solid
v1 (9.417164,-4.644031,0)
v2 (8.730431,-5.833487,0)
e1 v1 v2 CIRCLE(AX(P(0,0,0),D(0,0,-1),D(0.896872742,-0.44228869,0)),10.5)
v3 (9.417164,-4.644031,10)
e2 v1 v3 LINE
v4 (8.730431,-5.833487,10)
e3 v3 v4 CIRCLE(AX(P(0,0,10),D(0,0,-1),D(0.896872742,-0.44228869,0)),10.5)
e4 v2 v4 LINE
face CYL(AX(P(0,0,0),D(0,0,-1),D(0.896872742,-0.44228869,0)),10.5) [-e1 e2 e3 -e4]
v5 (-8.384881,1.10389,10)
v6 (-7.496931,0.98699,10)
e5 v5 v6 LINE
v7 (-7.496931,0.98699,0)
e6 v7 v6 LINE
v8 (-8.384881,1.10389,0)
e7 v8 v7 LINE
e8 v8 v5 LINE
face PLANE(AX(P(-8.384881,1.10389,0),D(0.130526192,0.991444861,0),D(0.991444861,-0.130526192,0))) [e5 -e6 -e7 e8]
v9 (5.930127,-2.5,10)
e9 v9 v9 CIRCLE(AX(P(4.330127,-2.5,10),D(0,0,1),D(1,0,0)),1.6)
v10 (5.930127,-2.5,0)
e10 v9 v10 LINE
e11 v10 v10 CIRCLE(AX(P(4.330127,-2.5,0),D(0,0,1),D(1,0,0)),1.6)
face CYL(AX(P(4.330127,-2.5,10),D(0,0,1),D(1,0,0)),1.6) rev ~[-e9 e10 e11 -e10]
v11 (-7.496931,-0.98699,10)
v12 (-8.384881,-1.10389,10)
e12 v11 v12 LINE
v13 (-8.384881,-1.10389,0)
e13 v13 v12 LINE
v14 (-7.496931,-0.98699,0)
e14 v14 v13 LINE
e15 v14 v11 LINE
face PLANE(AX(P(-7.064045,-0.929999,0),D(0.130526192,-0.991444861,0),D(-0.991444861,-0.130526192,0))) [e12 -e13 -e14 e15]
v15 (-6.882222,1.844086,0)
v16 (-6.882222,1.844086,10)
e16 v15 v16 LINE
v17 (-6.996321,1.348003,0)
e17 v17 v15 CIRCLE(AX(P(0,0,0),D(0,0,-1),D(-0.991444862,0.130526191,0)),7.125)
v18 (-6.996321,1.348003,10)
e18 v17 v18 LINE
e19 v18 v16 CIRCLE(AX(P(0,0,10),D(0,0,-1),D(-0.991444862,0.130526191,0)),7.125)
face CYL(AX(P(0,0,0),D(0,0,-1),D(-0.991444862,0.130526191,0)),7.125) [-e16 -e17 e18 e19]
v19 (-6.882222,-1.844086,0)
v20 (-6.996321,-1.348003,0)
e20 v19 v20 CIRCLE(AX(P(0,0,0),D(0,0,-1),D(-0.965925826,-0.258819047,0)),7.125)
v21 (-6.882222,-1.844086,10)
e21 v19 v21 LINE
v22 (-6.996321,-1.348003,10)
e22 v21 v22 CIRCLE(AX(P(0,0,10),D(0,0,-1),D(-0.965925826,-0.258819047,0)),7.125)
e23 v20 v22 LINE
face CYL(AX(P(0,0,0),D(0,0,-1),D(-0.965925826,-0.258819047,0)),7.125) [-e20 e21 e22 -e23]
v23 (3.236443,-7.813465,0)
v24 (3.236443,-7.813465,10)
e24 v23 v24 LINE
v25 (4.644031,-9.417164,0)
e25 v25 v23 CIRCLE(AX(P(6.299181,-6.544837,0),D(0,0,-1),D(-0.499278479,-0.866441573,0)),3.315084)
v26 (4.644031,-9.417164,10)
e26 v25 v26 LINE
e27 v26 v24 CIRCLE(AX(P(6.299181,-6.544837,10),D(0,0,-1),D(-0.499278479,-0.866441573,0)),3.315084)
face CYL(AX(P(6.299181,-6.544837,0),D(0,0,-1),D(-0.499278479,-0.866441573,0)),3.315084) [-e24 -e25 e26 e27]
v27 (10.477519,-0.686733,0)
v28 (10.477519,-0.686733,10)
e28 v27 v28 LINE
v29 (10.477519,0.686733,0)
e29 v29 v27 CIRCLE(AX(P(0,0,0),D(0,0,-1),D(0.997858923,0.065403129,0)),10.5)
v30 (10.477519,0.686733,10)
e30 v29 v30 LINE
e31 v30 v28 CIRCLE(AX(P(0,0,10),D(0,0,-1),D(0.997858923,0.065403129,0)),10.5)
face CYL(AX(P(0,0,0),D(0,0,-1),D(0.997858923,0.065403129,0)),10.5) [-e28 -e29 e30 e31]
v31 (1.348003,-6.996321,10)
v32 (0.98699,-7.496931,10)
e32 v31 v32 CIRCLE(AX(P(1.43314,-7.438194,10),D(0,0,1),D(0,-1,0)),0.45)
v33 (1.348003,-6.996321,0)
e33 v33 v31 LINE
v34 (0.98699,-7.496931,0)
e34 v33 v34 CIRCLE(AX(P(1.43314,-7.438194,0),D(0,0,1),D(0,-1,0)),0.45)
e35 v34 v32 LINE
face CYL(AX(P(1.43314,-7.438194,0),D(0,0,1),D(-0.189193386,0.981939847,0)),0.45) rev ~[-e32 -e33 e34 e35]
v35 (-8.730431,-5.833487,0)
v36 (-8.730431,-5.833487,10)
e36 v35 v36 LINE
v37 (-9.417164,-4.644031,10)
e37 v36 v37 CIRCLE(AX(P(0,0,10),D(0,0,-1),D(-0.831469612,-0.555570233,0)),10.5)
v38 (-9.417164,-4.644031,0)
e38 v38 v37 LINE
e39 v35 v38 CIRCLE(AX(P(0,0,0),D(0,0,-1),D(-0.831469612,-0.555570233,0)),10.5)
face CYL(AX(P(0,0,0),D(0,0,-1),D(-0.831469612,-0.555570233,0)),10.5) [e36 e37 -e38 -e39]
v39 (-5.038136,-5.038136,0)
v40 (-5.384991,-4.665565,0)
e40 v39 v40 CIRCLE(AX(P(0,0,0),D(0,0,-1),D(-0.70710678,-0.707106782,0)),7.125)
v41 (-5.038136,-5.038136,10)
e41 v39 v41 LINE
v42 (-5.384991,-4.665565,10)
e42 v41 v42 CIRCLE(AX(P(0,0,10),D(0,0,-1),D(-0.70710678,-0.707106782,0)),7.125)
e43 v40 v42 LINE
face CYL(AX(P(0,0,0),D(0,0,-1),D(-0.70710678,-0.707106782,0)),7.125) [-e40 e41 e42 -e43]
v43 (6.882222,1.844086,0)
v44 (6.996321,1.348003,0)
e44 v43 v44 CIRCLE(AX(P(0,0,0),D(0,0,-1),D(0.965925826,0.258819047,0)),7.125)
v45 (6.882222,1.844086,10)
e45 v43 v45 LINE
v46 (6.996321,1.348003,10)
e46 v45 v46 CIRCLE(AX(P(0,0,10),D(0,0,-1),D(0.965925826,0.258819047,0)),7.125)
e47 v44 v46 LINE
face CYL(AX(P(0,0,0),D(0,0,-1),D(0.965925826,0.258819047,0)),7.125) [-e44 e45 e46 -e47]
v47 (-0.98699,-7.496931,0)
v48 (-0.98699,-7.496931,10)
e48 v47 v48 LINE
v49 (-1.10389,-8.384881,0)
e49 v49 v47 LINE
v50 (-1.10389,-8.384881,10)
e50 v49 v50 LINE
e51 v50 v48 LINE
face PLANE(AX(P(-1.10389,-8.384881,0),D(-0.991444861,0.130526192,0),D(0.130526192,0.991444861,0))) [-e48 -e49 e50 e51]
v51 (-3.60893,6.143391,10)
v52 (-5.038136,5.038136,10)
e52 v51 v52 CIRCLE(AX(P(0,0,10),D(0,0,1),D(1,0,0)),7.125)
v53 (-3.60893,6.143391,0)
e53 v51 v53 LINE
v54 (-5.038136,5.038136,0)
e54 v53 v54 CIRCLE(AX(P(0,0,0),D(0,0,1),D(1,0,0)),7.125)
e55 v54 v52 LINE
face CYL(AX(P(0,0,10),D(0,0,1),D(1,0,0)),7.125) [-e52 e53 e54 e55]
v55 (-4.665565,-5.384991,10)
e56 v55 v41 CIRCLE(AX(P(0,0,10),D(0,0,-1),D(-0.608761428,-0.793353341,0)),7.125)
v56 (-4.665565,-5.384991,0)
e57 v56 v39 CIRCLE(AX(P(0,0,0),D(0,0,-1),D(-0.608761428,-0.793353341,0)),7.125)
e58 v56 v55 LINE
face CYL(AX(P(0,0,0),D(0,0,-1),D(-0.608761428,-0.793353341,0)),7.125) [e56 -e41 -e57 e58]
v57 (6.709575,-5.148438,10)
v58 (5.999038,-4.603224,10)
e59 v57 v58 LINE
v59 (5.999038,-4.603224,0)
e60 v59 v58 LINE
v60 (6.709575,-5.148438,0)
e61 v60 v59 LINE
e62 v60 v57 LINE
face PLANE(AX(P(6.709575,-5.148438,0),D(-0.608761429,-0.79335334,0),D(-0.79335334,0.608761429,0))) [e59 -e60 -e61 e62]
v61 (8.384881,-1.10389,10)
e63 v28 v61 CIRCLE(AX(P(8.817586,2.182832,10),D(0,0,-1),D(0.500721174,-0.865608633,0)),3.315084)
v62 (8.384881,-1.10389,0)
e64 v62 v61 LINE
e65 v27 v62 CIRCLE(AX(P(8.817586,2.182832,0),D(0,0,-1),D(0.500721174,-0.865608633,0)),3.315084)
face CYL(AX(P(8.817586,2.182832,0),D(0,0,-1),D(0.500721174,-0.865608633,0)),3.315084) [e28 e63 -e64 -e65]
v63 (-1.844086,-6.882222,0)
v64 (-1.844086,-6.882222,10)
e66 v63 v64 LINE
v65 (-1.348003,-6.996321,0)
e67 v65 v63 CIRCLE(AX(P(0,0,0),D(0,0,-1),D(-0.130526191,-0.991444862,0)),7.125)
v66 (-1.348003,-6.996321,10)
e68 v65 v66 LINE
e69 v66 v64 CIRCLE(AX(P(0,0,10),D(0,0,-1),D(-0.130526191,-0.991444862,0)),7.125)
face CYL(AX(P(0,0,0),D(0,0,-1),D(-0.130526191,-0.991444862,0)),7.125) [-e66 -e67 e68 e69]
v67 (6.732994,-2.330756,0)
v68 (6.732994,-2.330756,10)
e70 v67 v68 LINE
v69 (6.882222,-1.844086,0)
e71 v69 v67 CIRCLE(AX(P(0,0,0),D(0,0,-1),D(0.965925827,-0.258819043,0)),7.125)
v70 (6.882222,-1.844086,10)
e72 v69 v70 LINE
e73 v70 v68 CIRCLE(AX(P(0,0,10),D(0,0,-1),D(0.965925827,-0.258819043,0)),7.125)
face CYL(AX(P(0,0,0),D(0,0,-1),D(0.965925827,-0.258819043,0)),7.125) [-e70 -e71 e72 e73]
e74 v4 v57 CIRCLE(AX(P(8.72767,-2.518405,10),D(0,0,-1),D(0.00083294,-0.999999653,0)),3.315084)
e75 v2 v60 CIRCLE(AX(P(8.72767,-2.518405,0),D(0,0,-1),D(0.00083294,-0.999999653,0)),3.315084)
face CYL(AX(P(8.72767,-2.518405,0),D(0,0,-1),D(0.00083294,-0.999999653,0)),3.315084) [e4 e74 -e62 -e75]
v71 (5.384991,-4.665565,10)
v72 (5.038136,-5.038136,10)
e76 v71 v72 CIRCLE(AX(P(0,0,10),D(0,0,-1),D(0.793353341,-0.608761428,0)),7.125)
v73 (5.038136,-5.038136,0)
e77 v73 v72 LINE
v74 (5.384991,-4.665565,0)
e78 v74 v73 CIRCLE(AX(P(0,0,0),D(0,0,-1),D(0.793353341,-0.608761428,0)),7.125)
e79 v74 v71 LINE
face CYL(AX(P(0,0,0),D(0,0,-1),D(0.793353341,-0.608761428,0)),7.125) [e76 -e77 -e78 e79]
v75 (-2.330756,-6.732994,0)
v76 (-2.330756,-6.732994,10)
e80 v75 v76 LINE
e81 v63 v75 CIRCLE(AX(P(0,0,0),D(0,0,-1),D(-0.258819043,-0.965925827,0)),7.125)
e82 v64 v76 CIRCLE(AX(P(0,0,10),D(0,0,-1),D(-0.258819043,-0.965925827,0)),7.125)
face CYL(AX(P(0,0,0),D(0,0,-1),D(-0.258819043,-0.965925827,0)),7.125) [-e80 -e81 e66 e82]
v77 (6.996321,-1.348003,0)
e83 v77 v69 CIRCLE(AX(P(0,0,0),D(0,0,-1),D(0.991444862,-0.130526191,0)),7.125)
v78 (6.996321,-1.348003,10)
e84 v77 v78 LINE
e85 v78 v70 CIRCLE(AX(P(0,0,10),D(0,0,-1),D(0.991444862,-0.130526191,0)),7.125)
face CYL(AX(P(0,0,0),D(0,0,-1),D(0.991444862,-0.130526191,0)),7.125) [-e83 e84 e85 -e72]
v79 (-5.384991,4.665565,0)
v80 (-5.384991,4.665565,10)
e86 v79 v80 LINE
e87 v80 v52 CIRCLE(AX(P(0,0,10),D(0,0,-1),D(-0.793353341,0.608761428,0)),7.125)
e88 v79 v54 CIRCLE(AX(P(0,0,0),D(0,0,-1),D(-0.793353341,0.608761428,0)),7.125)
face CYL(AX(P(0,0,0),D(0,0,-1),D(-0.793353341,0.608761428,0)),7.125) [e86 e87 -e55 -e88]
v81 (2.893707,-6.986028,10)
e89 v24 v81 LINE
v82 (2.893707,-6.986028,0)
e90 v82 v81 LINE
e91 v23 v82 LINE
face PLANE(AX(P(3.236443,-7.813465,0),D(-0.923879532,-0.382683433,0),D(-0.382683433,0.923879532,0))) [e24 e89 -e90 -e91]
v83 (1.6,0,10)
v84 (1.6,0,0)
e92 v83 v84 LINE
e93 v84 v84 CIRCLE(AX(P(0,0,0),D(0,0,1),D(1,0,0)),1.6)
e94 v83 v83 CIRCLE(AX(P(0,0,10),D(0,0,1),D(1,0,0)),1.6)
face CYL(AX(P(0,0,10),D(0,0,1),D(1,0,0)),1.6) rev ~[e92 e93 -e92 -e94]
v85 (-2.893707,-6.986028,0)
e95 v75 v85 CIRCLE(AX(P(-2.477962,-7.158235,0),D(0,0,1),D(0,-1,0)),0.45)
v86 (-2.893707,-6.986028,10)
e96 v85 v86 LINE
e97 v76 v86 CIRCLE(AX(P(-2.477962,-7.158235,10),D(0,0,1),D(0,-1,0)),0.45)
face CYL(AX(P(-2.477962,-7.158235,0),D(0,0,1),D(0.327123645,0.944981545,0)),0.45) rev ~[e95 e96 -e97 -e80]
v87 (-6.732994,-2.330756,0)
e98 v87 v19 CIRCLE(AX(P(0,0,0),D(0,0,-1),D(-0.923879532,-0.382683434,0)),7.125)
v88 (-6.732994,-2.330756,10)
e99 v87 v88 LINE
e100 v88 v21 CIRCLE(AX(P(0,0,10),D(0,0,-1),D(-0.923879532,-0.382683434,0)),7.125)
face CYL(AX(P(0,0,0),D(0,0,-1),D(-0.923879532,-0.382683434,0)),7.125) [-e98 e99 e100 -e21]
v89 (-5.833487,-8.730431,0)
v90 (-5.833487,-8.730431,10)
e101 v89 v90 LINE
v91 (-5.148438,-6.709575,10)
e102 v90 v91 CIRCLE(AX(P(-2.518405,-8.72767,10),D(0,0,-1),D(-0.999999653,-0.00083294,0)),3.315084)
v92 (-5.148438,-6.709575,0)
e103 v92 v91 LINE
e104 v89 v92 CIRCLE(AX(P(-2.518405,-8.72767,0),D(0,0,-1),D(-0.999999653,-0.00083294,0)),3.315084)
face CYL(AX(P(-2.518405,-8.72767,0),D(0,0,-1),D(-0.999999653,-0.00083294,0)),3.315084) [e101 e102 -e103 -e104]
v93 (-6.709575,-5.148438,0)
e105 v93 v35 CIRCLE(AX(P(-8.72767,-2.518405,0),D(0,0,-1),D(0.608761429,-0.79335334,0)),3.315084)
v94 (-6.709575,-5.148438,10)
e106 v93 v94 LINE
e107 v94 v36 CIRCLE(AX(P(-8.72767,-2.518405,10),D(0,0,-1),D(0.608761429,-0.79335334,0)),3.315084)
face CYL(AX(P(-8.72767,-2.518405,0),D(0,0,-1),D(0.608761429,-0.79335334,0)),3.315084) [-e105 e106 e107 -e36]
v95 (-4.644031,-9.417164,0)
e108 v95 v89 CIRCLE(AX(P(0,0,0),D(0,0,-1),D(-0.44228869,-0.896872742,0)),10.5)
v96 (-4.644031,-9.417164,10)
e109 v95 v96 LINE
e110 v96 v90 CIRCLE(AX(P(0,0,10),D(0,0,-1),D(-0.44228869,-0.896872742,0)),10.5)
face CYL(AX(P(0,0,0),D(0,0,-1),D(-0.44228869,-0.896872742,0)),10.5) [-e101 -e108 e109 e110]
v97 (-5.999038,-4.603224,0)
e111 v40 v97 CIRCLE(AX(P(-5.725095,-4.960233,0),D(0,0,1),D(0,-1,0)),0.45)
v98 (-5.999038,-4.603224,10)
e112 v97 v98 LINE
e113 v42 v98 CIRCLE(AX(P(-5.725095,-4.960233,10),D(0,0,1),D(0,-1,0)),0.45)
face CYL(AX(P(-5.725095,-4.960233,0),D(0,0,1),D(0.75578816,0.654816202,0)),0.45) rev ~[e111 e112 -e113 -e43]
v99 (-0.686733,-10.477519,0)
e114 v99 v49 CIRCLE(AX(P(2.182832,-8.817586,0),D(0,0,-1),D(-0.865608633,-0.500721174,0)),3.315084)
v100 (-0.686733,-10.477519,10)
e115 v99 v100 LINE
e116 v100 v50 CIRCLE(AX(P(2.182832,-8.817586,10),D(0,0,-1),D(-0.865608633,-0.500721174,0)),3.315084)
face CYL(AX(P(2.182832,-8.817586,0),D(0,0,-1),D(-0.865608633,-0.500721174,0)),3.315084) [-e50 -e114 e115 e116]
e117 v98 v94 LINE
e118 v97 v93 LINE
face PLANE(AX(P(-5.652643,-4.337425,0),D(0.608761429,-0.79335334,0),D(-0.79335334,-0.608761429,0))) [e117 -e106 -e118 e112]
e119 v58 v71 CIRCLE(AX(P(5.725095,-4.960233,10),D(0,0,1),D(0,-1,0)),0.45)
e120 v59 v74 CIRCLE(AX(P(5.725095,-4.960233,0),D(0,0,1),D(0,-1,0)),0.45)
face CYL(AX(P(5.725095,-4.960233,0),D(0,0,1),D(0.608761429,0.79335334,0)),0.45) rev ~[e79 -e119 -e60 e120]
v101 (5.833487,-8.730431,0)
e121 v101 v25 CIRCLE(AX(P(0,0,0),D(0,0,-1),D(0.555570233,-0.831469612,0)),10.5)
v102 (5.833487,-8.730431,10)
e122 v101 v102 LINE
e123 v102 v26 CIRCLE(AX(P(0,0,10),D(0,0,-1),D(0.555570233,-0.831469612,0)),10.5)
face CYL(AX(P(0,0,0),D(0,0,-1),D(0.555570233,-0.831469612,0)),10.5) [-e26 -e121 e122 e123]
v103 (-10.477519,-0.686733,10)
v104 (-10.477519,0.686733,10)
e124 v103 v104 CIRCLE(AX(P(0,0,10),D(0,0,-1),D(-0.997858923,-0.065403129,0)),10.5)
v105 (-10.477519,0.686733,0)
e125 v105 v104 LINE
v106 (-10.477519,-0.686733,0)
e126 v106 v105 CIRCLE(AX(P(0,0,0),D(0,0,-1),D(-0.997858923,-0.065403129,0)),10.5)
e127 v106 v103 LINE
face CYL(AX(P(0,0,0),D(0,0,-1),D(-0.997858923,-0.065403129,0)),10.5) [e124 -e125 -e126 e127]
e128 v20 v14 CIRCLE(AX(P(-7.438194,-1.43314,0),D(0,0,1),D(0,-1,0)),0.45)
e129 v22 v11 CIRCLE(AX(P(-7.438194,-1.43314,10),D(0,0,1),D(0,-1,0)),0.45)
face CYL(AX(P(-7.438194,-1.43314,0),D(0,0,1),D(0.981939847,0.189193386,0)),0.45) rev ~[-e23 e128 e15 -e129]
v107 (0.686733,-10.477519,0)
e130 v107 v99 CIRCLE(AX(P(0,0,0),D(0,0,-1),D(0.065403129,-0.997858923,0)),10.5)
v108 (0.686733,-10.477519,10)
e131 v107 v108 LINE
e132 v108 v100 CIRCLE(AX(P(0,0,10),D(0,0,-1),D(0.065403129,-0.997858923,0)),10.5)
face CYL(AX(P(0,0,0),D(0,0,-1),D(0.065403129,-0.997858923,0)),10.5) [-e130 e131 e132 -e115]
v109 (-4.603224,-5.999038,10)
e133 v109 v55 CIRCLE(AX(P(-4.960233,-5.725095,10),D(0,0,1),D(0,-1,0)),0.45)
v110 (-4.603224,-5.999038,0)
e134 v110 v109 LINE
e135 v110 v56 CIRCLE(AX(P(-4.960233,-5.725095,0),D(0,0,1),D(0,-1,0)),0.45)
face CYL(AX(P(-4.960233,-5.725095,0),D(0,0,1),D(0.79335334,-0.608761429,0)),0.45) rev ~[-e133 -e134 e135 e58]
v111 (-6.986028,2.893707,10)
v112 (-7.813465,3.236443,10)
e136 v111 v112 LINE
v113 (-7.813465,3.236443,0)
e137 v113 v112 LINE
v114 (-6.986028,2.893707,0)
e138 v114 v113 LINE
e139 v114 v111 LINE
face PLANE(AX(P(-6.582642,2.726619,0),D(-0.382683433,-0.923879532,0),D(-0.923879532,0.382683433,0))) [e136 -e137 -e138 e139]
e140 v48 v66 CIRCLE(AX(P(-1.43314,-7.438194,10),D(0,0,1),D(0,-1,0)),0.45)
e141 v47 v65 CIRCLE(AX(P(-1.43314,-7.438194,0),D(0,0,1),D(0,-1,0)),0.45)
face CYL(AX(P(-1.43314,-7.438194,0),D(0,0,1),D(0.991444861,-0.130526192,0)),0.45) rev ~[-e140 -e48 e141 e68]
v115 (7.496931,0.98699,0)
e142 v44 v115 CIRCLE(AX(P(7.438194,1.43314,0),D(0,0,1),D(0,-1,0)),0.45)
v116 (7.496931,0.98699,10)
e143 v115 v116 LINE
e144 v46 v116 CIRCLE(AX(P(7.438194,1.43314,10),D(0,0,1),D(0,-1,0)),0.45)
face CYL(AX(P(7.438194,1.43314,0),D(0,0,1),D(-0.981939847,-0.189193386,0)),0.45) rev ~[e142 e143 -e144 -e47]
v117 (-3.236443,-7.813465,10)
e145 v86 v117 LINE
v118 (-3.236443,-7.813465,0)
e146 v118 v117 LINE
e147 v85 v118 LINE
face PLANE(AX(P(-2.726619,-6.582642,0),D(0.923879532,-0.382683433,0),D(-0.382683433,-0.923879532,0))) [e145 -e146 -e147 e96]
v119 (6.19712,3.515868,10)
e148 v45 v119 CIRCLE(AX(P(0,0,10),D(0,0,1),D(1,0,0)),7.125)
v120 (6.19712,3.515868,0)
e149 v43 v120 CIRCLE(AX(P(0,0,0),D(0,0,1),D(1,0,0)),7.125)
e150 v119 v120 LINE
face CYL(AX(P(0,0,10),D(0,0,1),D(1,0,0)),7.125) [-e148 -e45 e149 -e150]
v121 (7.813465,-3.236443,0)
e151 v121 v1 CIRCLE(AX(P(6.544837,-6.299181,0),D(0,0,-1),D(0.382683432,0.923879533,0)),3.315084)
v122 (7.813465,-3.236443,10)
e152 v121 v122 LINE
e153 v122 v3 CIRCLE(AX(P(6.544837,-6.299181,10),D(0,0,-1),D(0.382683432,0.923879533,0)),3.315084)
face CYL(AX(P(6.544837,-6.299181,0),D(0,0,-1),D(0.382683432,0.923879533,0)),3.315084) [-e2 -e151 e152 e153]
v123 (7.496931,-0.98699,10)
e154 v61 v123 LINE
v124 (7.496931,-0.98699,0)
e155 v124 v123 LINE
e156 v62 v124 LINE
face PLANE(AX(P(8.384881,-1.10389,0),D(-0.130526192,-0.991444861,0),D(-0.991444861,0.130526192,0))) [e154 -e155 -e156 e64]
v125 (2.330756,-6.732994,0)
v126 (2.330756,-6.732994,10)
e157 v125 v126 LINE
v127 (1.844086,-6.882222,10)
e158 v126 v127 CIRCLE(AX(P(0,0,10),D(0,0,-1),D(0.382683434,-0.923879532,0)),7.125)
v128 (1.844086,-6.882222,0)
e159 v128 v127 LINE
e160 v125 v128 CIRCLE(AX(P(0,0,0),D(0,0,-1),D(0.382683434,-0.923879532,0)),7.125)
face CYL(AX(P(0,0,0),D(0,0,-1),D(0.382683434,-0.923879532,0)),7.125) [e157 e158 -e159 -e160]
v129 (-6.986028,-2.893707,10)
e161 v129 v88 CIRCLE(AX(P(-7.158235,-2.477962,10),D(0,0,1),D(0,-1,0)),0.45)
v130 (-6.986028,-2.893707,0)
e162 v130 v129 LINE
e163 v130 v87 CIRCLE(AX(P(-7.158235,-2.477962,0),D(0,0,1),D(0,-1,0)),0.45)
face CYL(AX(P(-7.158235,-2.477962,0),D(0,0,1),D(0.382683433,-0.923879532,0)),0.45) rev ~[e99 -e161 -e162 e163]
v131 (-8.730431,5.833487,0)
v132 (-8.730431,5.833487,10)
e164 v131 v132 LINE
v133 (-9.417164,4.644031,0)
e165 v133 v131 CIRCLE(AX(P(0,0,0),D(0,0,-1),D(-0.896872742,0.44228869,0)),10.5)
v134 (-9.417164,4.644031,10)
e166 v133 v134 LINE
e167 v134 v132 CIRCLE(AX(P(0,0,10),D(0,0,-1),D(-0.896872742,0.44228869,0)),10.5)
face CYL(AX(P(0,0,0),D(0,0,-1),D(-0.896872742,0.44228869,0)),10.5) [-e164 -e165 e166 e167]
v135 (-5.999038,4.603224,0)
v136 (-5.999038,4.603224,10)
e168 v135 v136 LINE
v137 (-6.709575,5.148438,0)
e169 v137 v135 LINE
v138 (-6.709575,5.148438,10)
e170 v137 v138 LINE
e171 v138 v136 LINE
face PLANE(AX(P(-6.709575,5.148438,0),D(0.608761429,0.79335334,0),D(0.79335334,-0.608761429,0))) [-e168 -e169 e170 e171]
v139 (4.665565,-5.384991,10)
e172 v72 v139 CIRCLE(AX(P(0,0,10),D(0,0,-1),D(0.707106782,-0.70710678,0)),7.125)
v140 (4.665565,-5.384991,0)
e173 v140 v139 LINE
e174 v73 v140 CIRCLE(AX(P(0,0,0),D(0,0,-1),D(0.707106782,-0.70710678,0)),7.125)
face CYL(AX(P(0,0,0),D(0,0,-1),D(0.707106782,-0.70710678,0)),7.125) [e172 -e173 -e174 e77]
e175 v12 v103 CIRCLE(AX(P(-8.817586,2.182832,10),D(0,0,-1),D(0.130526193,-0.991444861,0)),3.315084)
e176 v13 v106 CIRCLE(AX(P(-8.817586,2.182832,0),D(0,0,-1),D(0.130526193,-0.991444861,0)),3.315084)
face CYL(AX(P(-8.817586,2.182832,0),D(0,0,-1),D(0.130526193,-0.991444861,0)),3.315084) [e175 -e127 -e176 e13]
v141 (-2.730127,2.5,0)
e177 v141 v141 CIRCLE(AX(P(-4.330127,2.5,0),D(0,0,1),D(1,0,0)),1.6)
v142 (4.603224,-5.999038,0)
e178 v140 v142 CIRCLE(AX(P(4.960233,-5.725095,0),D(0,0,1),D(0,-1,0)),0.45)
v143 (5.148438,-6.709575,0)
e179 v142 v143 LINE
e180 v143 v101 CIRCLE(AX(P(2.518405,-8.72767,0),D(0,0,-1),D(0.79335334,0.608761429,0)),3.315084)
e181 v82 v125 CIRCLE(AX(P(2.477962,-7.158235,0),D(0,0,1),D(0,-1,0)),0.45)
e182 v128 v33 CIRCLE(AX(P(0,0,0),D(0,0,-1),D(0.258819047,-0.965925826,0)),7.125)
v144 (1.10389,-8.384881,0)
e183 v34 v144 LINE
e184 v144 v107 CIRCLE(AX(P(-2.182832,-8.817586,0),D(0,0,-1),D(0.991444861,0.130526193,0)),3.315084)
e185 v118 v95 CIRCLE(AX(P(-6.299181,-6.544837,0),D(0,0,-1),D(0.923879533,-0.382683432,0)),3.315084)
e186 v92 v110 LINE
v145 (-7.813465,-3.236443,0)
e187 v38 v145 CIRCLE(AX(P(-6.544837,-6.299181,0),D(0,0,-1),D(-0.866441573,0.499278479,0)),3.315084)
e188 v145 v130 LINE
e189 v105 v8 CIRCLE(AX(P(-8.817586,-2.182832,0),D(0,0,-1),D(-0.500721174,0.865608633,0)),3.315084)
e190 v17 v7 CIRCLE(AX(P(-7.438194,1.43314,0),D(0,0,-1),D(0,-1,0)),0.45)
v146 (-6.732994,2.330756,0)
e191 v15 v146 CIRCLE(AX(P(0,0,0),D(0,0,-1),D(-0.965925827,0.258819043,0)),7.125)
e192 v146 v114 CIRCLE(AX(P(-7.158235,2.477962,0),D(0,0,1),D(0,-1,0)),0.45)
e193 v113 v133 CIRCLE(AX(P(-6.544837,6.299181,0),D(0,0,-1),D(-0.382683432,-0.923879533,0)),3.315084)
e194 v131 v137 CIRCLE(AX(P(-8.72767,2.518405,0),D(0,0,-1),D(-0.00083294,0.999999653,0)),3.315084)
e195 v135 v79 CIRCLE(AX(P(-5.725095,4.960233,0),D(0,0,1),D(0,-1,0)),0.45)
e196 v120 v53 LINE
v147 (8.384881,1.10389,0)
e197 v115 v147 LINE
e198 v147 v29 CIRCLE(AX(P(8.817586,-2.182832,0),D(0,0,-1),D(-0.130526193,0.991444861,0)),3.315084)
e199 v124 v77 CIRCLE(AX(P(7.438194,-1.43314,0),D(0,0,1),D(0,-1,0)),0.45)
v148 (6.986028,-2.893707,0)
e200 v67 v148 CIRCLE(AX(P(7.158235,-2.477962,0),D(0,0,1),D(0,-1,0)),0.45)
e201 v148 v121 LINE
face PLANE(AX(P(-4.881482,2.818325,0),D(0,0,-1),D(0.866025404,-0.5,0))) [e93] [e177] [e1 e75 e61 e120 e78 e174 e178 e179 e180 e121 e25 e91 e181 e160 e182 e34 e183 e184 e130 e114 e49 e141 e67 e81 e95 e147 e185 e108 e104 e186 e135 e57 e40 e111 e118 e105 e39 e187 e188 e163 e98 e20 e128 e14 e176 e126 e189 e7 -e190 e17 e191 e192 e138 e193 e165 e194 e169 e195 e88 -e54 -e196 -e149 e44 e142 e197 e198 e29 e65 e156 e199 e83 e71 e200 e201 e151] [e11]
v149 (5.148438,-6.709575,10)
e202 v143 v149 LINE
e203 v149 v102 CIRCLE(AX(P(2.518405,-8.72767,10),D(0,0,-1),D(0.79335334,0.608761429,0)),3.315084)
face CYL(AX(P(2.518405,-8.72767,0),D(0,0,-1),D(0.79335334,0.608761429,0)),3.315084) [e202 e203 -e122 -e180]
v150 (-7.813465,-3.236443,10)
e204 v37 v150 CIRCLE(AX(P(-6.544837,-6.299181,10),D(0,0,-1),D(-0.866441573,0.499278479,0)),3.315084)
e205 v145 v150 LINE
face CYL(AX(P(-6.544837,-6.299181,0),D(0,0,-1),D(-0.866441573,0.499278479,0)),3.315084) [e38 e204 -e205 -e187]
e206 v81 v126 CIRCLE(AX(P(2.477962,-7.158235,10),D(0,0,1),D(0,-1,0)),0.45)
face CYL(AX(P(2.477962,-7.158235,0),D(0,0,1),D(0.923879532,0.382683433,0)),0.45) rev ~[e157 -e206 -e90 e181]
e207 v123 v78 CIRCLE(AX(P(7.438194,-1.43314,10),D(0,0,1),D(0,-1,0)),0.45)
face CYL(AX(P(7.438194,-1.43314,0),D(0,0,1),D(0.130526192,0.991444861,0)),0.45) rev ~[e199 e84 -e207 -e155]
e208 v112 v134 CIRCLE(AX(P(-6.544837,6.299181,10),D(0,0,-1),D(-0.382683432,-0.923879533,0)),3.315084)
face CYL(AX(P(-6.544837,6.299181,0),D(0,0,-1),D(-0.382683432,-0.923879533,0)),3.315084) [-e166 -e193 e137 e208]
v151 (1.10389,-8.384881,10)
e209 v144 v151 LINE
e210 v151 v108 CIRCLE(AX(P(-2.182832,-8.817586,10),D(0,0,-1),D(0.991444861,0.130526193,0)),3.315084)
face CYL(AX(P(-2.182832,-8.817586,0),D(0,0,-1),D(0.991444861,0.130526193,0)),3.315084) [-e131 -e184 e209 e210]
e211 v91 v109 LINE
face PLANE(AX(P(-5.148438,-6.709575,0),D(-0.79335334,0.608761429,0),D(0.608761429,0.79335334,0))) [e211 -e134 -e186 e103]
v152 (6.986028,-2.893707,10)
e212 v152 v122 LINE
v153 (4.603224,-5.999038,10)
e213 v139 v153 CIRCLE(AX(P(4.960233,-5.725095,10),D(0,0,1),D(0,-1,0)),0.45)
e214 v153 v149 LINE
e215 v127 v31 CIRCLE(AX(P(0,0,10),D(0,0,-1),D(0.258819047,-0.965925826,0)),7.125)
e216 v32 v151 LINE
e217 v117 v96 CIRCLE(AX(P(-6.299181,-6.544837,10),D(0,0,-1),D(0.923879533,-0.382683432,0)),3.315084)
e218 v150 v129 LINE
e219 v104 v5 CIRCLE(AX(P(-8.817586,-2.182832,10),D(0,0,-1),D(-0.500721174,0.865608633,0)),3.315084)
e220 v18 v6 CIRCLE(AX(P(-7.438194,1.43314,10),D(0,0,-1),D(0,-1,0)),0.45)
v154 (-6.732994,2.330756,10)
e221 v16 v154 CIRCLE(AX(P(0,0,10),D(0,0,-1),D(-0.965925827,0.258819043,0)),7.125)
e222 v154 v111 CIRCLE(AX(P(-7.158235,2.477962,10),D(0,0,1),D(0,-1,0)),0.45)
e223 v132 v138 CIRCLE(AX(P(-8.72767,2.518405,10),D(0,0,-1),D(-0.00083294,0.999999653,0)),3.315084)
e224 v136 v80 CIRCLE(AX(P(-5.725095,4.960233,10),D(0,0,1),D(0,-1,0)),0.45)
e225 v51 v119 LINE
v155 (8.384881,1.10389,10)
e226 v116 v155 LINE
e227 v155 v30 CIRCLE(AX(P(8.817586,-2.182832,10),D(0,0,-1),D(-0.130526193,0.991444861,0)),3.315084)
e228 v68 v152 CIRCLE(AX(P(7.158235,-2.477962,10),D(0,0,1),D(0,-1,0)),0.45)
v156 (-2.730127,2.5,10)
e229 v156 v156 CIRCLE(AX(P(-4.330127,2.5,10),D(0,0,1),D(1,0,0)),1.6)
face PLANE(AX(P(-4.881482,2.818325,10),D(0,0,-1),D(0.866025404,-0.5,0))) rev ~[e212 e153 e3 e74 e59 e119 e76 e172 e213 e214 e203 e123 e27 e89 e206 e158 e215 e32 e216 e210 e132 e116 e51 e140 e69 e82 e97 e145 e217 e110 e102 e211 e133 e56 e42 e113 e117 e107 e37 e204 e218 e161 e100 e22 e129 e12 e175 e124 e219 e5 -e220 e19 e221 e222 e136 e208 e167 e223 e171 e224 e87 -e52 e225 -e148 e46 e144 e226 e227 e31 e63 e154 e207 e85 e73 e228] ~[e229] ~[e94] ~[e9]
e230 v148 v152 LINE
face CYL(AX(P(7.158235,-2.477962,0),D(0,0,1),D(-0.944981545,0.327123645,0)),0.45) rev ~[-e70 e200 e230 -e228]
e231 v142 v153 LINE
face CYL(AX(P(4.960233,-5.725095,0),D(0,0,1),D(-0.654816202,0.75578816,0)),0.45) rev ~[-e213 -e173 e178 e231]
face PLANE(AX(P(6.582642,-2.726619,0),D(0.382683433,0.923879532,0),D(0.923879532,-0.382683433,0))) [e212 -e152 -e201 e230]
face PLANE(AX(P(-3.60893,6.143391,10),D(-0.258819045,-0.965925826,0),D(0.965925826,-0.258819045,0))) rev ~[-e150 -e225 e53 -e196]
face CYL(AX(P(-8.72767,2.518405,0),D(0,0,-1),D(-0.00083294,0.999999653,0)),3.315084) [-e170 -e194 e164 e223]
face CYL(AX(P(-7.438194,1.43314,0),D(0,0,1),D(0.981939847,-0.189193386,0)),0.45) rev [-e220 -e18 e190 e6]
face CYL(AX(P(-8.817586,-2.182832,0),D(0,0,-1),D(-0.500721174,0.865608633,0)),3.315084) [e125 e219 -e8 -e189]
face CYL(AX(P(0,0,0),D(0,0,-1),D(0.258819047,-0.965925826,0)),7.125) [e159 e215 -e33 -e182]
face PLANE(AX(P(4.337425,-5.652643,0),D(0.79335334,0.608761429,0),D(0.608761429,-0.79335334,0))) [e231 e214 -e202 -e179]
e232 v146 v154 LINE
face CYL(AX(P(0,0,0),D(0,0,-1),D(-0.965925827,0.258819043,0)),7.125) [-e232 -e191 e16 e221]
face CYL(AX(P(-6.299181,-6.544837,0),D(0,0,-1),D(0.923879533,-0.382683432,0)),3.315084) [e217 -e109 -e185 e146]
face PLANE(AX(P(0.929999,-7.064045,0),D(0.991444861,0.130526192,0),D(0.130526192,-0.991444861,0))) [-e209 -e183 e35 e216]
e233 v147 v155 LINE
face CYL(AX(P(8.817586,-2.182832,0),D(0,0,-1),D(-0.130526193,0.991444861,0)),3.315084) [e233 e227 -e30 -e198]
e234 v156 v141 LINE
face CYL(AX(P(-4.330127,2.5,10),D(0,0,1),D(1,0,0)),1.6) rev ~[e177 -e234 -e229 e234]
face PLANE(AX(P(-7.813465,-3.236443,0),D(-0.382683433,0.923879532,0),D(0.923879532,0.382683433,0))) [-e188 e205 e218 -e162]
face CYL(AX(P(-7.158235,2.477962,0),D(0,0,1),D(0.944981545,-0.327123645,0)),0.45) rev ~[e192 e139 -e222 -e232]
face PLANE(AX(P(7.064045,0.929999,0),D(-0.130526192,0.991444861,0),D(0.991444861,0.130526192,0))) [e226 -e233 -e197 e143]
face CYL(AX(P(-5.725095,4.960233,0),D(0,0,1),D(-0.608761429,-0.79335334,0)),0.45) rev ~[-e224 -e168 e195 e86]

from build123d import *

# Parameters (mm, degrees)
BOSS_EXTRU_2_DEPTH                 = 10
CONG_1_R                           = 0.45
R_P_TITION_CIRCULAIRE1_COUNT       = 8
R_P_TITION_CIRCULAIRE1_ANGLE       = 210
CONG_1_OF_R_P_TITION_CIRCULAIRE1_R = 0.45
ESQUISSE5_R                        = 7.125
BOSS_EXTRU_4_DEPTH                 = 10
ENL_V_MAT_EXTRU_3_DEPTH            = 11
ESQUISSE3_R                        = 1.6
ENL_V_MAT_EXTRU_4_DEPTH            = 11
ESQUISSE8_R                        = 1.6
ENL_V_MAT_EXTRU_5_DEPTH            = 11


with BuildPart() as part:
    # Esquisse1 → Boss.-Extru.2 (new body)
    with BuildSketch(Plane.XY):
        with BuildLine():
            Line((0, 0), (6.882221512, 1.844085696))
            ThreePointArc((6.882221512, 1.844085696), (6.988095123, 1.390018544), (7.064044637, 0.92999912))
            Line((7.064044637, 0.92999912), (8.384880781, 1.103890497))
            ThreePointArc((8.384880781, 1.103890497), (9.465680859, 1.068283463), (10.477518694, 0.686732857))
            ThreePointArc((10.477518694, 0.686732857), (10.5, 0), (10.477518694, -0.686732857))
            ThreePointArc((10.477518694, -0.686732857), (9.465680859, -1.068283463), (8.384880781, -1.103890497))
            Line((8.384880781, -1.103890497), (7.064044637, -0.92999912))
            ThreePointArc((7.064044637, -0.92999912), (6.988095123, -1.390018544), (6.882221512, -1.844085696))
            Line((6.882221512, -1.844085696), (0, 0))
        make_face()
    boss_extru_2 = extrude(amount=BOSS_EXTRU_2_DEPTH)

    # Congé1
    cong_1_edges = [part.edges().sort_by_distance(p)[0] for p in [
        (7.064044637, 0.92999912, 5),
        (7.064044637, -0.92999912, 5),
    ]]
    fillet(cong_1_edges, radius=CONG_1_R)

    # Répétition circulaire1: Boss.-Extru.2 ×8 about axis
    r_p_tition_circulaire1_axis = Axis((0, 0, 0), (0, 0, -1))
    for i in range(1, R_P_TITION_CIRCULAIRE1_COUNT):
        add(boss_extru_2.rotate(r_p_tition_circulaire1_axis, i * R_P_TITION_CIRCULAIRE1_ANGLE / (R_P_TITION_CIRCULAIRE1_COUNT - 1)))

    # Congé1 of Répétition circulaire1
    cong_1_of_r_p_tition_circulaire1_edges = [part.edges().sort_by_distance(p)[0] for p in [
        (6.582641669, -2.726619456, 5),
        (5.65264255, -4.337425182, 5),
        (4.337425182, -5.65264255, 5),
        (2.726619456, -6.582641669, 5),
        (0.92999912, -7.064044637, 5),
        (-0.92999912, -7.064044637, 5),
        (-2.726619456, -6.582641669, 5),
        (-4.337425182, -5.65264255, 5),
        (-5.65264255, -4.337425182, 5),
        (-6.582641669, -2.726619456, 5),
        (-7.064044637, -0.92999912, 5),
        (-7.064044637, 0.92999912, 5),
        (-6.582641669, 2.726619456, 5),
        (-5.65264255, 4.337425182, 5),
    ]]
    fillet(cong_1_of_r_p_tition_circulaire1_edges, radius=CONG_1_OF_R_P_TITION_CIRCULAIRE1_R)

    # Esquisse5 → Boss.-Extru.4 (add, through all)
    with BuildSketch(Plane.XY.offset(10)):
        Circle(ESQUISSE5_R)
    extrude(amount=-BOSS_EXTRU_4_DEPTH)

    # Esquisse7 → Enlèv. mat.-Extru.3 (cut, through all)
    with BuildSketch(Plane.XY.offset(10)):
        with BuildLine():
            Line((-3.608929902, 6.143390755), (6.197120353, 3.515867508))
            ThreePointArc((6.197120353, 3.515867508), (1.844085696, 6.882221512), (-3.608929902, 6.143390755))
        make_face()
    extrude(amount=-ENL_V_MAT_EXTRU_3_DEPTH, mode=Mode.SUBTRACT)

    # Esquisse3 → Enlèv. mat.-Extru.4 (cut, through all)
    with BuildSketch(Plane.XY.offset(10)):
        Circle(ESQUISSE3_R)
    extrude(amount=-ENL_V_MAT_EXTRU_4_DEPTH, mode=Mode.SUBTRACT)

    # Esquisse8 → Enlèv. mat.-Extru.5 (cut, through all)
    with BuildSketch(Plane.XY.offset(10)):
        with Locations((-4.330127019, 2.5)):
            Circle(ESQUISSE8_R)
        with Locations((4.330127019, -2.5)):
            Circle(ESQUISSE8_R)
    extrude(amount=-ENL_V_MAT_EXTRU_5_DEPTH, mode=Mode.SUBTRACT)


solid = part.part
